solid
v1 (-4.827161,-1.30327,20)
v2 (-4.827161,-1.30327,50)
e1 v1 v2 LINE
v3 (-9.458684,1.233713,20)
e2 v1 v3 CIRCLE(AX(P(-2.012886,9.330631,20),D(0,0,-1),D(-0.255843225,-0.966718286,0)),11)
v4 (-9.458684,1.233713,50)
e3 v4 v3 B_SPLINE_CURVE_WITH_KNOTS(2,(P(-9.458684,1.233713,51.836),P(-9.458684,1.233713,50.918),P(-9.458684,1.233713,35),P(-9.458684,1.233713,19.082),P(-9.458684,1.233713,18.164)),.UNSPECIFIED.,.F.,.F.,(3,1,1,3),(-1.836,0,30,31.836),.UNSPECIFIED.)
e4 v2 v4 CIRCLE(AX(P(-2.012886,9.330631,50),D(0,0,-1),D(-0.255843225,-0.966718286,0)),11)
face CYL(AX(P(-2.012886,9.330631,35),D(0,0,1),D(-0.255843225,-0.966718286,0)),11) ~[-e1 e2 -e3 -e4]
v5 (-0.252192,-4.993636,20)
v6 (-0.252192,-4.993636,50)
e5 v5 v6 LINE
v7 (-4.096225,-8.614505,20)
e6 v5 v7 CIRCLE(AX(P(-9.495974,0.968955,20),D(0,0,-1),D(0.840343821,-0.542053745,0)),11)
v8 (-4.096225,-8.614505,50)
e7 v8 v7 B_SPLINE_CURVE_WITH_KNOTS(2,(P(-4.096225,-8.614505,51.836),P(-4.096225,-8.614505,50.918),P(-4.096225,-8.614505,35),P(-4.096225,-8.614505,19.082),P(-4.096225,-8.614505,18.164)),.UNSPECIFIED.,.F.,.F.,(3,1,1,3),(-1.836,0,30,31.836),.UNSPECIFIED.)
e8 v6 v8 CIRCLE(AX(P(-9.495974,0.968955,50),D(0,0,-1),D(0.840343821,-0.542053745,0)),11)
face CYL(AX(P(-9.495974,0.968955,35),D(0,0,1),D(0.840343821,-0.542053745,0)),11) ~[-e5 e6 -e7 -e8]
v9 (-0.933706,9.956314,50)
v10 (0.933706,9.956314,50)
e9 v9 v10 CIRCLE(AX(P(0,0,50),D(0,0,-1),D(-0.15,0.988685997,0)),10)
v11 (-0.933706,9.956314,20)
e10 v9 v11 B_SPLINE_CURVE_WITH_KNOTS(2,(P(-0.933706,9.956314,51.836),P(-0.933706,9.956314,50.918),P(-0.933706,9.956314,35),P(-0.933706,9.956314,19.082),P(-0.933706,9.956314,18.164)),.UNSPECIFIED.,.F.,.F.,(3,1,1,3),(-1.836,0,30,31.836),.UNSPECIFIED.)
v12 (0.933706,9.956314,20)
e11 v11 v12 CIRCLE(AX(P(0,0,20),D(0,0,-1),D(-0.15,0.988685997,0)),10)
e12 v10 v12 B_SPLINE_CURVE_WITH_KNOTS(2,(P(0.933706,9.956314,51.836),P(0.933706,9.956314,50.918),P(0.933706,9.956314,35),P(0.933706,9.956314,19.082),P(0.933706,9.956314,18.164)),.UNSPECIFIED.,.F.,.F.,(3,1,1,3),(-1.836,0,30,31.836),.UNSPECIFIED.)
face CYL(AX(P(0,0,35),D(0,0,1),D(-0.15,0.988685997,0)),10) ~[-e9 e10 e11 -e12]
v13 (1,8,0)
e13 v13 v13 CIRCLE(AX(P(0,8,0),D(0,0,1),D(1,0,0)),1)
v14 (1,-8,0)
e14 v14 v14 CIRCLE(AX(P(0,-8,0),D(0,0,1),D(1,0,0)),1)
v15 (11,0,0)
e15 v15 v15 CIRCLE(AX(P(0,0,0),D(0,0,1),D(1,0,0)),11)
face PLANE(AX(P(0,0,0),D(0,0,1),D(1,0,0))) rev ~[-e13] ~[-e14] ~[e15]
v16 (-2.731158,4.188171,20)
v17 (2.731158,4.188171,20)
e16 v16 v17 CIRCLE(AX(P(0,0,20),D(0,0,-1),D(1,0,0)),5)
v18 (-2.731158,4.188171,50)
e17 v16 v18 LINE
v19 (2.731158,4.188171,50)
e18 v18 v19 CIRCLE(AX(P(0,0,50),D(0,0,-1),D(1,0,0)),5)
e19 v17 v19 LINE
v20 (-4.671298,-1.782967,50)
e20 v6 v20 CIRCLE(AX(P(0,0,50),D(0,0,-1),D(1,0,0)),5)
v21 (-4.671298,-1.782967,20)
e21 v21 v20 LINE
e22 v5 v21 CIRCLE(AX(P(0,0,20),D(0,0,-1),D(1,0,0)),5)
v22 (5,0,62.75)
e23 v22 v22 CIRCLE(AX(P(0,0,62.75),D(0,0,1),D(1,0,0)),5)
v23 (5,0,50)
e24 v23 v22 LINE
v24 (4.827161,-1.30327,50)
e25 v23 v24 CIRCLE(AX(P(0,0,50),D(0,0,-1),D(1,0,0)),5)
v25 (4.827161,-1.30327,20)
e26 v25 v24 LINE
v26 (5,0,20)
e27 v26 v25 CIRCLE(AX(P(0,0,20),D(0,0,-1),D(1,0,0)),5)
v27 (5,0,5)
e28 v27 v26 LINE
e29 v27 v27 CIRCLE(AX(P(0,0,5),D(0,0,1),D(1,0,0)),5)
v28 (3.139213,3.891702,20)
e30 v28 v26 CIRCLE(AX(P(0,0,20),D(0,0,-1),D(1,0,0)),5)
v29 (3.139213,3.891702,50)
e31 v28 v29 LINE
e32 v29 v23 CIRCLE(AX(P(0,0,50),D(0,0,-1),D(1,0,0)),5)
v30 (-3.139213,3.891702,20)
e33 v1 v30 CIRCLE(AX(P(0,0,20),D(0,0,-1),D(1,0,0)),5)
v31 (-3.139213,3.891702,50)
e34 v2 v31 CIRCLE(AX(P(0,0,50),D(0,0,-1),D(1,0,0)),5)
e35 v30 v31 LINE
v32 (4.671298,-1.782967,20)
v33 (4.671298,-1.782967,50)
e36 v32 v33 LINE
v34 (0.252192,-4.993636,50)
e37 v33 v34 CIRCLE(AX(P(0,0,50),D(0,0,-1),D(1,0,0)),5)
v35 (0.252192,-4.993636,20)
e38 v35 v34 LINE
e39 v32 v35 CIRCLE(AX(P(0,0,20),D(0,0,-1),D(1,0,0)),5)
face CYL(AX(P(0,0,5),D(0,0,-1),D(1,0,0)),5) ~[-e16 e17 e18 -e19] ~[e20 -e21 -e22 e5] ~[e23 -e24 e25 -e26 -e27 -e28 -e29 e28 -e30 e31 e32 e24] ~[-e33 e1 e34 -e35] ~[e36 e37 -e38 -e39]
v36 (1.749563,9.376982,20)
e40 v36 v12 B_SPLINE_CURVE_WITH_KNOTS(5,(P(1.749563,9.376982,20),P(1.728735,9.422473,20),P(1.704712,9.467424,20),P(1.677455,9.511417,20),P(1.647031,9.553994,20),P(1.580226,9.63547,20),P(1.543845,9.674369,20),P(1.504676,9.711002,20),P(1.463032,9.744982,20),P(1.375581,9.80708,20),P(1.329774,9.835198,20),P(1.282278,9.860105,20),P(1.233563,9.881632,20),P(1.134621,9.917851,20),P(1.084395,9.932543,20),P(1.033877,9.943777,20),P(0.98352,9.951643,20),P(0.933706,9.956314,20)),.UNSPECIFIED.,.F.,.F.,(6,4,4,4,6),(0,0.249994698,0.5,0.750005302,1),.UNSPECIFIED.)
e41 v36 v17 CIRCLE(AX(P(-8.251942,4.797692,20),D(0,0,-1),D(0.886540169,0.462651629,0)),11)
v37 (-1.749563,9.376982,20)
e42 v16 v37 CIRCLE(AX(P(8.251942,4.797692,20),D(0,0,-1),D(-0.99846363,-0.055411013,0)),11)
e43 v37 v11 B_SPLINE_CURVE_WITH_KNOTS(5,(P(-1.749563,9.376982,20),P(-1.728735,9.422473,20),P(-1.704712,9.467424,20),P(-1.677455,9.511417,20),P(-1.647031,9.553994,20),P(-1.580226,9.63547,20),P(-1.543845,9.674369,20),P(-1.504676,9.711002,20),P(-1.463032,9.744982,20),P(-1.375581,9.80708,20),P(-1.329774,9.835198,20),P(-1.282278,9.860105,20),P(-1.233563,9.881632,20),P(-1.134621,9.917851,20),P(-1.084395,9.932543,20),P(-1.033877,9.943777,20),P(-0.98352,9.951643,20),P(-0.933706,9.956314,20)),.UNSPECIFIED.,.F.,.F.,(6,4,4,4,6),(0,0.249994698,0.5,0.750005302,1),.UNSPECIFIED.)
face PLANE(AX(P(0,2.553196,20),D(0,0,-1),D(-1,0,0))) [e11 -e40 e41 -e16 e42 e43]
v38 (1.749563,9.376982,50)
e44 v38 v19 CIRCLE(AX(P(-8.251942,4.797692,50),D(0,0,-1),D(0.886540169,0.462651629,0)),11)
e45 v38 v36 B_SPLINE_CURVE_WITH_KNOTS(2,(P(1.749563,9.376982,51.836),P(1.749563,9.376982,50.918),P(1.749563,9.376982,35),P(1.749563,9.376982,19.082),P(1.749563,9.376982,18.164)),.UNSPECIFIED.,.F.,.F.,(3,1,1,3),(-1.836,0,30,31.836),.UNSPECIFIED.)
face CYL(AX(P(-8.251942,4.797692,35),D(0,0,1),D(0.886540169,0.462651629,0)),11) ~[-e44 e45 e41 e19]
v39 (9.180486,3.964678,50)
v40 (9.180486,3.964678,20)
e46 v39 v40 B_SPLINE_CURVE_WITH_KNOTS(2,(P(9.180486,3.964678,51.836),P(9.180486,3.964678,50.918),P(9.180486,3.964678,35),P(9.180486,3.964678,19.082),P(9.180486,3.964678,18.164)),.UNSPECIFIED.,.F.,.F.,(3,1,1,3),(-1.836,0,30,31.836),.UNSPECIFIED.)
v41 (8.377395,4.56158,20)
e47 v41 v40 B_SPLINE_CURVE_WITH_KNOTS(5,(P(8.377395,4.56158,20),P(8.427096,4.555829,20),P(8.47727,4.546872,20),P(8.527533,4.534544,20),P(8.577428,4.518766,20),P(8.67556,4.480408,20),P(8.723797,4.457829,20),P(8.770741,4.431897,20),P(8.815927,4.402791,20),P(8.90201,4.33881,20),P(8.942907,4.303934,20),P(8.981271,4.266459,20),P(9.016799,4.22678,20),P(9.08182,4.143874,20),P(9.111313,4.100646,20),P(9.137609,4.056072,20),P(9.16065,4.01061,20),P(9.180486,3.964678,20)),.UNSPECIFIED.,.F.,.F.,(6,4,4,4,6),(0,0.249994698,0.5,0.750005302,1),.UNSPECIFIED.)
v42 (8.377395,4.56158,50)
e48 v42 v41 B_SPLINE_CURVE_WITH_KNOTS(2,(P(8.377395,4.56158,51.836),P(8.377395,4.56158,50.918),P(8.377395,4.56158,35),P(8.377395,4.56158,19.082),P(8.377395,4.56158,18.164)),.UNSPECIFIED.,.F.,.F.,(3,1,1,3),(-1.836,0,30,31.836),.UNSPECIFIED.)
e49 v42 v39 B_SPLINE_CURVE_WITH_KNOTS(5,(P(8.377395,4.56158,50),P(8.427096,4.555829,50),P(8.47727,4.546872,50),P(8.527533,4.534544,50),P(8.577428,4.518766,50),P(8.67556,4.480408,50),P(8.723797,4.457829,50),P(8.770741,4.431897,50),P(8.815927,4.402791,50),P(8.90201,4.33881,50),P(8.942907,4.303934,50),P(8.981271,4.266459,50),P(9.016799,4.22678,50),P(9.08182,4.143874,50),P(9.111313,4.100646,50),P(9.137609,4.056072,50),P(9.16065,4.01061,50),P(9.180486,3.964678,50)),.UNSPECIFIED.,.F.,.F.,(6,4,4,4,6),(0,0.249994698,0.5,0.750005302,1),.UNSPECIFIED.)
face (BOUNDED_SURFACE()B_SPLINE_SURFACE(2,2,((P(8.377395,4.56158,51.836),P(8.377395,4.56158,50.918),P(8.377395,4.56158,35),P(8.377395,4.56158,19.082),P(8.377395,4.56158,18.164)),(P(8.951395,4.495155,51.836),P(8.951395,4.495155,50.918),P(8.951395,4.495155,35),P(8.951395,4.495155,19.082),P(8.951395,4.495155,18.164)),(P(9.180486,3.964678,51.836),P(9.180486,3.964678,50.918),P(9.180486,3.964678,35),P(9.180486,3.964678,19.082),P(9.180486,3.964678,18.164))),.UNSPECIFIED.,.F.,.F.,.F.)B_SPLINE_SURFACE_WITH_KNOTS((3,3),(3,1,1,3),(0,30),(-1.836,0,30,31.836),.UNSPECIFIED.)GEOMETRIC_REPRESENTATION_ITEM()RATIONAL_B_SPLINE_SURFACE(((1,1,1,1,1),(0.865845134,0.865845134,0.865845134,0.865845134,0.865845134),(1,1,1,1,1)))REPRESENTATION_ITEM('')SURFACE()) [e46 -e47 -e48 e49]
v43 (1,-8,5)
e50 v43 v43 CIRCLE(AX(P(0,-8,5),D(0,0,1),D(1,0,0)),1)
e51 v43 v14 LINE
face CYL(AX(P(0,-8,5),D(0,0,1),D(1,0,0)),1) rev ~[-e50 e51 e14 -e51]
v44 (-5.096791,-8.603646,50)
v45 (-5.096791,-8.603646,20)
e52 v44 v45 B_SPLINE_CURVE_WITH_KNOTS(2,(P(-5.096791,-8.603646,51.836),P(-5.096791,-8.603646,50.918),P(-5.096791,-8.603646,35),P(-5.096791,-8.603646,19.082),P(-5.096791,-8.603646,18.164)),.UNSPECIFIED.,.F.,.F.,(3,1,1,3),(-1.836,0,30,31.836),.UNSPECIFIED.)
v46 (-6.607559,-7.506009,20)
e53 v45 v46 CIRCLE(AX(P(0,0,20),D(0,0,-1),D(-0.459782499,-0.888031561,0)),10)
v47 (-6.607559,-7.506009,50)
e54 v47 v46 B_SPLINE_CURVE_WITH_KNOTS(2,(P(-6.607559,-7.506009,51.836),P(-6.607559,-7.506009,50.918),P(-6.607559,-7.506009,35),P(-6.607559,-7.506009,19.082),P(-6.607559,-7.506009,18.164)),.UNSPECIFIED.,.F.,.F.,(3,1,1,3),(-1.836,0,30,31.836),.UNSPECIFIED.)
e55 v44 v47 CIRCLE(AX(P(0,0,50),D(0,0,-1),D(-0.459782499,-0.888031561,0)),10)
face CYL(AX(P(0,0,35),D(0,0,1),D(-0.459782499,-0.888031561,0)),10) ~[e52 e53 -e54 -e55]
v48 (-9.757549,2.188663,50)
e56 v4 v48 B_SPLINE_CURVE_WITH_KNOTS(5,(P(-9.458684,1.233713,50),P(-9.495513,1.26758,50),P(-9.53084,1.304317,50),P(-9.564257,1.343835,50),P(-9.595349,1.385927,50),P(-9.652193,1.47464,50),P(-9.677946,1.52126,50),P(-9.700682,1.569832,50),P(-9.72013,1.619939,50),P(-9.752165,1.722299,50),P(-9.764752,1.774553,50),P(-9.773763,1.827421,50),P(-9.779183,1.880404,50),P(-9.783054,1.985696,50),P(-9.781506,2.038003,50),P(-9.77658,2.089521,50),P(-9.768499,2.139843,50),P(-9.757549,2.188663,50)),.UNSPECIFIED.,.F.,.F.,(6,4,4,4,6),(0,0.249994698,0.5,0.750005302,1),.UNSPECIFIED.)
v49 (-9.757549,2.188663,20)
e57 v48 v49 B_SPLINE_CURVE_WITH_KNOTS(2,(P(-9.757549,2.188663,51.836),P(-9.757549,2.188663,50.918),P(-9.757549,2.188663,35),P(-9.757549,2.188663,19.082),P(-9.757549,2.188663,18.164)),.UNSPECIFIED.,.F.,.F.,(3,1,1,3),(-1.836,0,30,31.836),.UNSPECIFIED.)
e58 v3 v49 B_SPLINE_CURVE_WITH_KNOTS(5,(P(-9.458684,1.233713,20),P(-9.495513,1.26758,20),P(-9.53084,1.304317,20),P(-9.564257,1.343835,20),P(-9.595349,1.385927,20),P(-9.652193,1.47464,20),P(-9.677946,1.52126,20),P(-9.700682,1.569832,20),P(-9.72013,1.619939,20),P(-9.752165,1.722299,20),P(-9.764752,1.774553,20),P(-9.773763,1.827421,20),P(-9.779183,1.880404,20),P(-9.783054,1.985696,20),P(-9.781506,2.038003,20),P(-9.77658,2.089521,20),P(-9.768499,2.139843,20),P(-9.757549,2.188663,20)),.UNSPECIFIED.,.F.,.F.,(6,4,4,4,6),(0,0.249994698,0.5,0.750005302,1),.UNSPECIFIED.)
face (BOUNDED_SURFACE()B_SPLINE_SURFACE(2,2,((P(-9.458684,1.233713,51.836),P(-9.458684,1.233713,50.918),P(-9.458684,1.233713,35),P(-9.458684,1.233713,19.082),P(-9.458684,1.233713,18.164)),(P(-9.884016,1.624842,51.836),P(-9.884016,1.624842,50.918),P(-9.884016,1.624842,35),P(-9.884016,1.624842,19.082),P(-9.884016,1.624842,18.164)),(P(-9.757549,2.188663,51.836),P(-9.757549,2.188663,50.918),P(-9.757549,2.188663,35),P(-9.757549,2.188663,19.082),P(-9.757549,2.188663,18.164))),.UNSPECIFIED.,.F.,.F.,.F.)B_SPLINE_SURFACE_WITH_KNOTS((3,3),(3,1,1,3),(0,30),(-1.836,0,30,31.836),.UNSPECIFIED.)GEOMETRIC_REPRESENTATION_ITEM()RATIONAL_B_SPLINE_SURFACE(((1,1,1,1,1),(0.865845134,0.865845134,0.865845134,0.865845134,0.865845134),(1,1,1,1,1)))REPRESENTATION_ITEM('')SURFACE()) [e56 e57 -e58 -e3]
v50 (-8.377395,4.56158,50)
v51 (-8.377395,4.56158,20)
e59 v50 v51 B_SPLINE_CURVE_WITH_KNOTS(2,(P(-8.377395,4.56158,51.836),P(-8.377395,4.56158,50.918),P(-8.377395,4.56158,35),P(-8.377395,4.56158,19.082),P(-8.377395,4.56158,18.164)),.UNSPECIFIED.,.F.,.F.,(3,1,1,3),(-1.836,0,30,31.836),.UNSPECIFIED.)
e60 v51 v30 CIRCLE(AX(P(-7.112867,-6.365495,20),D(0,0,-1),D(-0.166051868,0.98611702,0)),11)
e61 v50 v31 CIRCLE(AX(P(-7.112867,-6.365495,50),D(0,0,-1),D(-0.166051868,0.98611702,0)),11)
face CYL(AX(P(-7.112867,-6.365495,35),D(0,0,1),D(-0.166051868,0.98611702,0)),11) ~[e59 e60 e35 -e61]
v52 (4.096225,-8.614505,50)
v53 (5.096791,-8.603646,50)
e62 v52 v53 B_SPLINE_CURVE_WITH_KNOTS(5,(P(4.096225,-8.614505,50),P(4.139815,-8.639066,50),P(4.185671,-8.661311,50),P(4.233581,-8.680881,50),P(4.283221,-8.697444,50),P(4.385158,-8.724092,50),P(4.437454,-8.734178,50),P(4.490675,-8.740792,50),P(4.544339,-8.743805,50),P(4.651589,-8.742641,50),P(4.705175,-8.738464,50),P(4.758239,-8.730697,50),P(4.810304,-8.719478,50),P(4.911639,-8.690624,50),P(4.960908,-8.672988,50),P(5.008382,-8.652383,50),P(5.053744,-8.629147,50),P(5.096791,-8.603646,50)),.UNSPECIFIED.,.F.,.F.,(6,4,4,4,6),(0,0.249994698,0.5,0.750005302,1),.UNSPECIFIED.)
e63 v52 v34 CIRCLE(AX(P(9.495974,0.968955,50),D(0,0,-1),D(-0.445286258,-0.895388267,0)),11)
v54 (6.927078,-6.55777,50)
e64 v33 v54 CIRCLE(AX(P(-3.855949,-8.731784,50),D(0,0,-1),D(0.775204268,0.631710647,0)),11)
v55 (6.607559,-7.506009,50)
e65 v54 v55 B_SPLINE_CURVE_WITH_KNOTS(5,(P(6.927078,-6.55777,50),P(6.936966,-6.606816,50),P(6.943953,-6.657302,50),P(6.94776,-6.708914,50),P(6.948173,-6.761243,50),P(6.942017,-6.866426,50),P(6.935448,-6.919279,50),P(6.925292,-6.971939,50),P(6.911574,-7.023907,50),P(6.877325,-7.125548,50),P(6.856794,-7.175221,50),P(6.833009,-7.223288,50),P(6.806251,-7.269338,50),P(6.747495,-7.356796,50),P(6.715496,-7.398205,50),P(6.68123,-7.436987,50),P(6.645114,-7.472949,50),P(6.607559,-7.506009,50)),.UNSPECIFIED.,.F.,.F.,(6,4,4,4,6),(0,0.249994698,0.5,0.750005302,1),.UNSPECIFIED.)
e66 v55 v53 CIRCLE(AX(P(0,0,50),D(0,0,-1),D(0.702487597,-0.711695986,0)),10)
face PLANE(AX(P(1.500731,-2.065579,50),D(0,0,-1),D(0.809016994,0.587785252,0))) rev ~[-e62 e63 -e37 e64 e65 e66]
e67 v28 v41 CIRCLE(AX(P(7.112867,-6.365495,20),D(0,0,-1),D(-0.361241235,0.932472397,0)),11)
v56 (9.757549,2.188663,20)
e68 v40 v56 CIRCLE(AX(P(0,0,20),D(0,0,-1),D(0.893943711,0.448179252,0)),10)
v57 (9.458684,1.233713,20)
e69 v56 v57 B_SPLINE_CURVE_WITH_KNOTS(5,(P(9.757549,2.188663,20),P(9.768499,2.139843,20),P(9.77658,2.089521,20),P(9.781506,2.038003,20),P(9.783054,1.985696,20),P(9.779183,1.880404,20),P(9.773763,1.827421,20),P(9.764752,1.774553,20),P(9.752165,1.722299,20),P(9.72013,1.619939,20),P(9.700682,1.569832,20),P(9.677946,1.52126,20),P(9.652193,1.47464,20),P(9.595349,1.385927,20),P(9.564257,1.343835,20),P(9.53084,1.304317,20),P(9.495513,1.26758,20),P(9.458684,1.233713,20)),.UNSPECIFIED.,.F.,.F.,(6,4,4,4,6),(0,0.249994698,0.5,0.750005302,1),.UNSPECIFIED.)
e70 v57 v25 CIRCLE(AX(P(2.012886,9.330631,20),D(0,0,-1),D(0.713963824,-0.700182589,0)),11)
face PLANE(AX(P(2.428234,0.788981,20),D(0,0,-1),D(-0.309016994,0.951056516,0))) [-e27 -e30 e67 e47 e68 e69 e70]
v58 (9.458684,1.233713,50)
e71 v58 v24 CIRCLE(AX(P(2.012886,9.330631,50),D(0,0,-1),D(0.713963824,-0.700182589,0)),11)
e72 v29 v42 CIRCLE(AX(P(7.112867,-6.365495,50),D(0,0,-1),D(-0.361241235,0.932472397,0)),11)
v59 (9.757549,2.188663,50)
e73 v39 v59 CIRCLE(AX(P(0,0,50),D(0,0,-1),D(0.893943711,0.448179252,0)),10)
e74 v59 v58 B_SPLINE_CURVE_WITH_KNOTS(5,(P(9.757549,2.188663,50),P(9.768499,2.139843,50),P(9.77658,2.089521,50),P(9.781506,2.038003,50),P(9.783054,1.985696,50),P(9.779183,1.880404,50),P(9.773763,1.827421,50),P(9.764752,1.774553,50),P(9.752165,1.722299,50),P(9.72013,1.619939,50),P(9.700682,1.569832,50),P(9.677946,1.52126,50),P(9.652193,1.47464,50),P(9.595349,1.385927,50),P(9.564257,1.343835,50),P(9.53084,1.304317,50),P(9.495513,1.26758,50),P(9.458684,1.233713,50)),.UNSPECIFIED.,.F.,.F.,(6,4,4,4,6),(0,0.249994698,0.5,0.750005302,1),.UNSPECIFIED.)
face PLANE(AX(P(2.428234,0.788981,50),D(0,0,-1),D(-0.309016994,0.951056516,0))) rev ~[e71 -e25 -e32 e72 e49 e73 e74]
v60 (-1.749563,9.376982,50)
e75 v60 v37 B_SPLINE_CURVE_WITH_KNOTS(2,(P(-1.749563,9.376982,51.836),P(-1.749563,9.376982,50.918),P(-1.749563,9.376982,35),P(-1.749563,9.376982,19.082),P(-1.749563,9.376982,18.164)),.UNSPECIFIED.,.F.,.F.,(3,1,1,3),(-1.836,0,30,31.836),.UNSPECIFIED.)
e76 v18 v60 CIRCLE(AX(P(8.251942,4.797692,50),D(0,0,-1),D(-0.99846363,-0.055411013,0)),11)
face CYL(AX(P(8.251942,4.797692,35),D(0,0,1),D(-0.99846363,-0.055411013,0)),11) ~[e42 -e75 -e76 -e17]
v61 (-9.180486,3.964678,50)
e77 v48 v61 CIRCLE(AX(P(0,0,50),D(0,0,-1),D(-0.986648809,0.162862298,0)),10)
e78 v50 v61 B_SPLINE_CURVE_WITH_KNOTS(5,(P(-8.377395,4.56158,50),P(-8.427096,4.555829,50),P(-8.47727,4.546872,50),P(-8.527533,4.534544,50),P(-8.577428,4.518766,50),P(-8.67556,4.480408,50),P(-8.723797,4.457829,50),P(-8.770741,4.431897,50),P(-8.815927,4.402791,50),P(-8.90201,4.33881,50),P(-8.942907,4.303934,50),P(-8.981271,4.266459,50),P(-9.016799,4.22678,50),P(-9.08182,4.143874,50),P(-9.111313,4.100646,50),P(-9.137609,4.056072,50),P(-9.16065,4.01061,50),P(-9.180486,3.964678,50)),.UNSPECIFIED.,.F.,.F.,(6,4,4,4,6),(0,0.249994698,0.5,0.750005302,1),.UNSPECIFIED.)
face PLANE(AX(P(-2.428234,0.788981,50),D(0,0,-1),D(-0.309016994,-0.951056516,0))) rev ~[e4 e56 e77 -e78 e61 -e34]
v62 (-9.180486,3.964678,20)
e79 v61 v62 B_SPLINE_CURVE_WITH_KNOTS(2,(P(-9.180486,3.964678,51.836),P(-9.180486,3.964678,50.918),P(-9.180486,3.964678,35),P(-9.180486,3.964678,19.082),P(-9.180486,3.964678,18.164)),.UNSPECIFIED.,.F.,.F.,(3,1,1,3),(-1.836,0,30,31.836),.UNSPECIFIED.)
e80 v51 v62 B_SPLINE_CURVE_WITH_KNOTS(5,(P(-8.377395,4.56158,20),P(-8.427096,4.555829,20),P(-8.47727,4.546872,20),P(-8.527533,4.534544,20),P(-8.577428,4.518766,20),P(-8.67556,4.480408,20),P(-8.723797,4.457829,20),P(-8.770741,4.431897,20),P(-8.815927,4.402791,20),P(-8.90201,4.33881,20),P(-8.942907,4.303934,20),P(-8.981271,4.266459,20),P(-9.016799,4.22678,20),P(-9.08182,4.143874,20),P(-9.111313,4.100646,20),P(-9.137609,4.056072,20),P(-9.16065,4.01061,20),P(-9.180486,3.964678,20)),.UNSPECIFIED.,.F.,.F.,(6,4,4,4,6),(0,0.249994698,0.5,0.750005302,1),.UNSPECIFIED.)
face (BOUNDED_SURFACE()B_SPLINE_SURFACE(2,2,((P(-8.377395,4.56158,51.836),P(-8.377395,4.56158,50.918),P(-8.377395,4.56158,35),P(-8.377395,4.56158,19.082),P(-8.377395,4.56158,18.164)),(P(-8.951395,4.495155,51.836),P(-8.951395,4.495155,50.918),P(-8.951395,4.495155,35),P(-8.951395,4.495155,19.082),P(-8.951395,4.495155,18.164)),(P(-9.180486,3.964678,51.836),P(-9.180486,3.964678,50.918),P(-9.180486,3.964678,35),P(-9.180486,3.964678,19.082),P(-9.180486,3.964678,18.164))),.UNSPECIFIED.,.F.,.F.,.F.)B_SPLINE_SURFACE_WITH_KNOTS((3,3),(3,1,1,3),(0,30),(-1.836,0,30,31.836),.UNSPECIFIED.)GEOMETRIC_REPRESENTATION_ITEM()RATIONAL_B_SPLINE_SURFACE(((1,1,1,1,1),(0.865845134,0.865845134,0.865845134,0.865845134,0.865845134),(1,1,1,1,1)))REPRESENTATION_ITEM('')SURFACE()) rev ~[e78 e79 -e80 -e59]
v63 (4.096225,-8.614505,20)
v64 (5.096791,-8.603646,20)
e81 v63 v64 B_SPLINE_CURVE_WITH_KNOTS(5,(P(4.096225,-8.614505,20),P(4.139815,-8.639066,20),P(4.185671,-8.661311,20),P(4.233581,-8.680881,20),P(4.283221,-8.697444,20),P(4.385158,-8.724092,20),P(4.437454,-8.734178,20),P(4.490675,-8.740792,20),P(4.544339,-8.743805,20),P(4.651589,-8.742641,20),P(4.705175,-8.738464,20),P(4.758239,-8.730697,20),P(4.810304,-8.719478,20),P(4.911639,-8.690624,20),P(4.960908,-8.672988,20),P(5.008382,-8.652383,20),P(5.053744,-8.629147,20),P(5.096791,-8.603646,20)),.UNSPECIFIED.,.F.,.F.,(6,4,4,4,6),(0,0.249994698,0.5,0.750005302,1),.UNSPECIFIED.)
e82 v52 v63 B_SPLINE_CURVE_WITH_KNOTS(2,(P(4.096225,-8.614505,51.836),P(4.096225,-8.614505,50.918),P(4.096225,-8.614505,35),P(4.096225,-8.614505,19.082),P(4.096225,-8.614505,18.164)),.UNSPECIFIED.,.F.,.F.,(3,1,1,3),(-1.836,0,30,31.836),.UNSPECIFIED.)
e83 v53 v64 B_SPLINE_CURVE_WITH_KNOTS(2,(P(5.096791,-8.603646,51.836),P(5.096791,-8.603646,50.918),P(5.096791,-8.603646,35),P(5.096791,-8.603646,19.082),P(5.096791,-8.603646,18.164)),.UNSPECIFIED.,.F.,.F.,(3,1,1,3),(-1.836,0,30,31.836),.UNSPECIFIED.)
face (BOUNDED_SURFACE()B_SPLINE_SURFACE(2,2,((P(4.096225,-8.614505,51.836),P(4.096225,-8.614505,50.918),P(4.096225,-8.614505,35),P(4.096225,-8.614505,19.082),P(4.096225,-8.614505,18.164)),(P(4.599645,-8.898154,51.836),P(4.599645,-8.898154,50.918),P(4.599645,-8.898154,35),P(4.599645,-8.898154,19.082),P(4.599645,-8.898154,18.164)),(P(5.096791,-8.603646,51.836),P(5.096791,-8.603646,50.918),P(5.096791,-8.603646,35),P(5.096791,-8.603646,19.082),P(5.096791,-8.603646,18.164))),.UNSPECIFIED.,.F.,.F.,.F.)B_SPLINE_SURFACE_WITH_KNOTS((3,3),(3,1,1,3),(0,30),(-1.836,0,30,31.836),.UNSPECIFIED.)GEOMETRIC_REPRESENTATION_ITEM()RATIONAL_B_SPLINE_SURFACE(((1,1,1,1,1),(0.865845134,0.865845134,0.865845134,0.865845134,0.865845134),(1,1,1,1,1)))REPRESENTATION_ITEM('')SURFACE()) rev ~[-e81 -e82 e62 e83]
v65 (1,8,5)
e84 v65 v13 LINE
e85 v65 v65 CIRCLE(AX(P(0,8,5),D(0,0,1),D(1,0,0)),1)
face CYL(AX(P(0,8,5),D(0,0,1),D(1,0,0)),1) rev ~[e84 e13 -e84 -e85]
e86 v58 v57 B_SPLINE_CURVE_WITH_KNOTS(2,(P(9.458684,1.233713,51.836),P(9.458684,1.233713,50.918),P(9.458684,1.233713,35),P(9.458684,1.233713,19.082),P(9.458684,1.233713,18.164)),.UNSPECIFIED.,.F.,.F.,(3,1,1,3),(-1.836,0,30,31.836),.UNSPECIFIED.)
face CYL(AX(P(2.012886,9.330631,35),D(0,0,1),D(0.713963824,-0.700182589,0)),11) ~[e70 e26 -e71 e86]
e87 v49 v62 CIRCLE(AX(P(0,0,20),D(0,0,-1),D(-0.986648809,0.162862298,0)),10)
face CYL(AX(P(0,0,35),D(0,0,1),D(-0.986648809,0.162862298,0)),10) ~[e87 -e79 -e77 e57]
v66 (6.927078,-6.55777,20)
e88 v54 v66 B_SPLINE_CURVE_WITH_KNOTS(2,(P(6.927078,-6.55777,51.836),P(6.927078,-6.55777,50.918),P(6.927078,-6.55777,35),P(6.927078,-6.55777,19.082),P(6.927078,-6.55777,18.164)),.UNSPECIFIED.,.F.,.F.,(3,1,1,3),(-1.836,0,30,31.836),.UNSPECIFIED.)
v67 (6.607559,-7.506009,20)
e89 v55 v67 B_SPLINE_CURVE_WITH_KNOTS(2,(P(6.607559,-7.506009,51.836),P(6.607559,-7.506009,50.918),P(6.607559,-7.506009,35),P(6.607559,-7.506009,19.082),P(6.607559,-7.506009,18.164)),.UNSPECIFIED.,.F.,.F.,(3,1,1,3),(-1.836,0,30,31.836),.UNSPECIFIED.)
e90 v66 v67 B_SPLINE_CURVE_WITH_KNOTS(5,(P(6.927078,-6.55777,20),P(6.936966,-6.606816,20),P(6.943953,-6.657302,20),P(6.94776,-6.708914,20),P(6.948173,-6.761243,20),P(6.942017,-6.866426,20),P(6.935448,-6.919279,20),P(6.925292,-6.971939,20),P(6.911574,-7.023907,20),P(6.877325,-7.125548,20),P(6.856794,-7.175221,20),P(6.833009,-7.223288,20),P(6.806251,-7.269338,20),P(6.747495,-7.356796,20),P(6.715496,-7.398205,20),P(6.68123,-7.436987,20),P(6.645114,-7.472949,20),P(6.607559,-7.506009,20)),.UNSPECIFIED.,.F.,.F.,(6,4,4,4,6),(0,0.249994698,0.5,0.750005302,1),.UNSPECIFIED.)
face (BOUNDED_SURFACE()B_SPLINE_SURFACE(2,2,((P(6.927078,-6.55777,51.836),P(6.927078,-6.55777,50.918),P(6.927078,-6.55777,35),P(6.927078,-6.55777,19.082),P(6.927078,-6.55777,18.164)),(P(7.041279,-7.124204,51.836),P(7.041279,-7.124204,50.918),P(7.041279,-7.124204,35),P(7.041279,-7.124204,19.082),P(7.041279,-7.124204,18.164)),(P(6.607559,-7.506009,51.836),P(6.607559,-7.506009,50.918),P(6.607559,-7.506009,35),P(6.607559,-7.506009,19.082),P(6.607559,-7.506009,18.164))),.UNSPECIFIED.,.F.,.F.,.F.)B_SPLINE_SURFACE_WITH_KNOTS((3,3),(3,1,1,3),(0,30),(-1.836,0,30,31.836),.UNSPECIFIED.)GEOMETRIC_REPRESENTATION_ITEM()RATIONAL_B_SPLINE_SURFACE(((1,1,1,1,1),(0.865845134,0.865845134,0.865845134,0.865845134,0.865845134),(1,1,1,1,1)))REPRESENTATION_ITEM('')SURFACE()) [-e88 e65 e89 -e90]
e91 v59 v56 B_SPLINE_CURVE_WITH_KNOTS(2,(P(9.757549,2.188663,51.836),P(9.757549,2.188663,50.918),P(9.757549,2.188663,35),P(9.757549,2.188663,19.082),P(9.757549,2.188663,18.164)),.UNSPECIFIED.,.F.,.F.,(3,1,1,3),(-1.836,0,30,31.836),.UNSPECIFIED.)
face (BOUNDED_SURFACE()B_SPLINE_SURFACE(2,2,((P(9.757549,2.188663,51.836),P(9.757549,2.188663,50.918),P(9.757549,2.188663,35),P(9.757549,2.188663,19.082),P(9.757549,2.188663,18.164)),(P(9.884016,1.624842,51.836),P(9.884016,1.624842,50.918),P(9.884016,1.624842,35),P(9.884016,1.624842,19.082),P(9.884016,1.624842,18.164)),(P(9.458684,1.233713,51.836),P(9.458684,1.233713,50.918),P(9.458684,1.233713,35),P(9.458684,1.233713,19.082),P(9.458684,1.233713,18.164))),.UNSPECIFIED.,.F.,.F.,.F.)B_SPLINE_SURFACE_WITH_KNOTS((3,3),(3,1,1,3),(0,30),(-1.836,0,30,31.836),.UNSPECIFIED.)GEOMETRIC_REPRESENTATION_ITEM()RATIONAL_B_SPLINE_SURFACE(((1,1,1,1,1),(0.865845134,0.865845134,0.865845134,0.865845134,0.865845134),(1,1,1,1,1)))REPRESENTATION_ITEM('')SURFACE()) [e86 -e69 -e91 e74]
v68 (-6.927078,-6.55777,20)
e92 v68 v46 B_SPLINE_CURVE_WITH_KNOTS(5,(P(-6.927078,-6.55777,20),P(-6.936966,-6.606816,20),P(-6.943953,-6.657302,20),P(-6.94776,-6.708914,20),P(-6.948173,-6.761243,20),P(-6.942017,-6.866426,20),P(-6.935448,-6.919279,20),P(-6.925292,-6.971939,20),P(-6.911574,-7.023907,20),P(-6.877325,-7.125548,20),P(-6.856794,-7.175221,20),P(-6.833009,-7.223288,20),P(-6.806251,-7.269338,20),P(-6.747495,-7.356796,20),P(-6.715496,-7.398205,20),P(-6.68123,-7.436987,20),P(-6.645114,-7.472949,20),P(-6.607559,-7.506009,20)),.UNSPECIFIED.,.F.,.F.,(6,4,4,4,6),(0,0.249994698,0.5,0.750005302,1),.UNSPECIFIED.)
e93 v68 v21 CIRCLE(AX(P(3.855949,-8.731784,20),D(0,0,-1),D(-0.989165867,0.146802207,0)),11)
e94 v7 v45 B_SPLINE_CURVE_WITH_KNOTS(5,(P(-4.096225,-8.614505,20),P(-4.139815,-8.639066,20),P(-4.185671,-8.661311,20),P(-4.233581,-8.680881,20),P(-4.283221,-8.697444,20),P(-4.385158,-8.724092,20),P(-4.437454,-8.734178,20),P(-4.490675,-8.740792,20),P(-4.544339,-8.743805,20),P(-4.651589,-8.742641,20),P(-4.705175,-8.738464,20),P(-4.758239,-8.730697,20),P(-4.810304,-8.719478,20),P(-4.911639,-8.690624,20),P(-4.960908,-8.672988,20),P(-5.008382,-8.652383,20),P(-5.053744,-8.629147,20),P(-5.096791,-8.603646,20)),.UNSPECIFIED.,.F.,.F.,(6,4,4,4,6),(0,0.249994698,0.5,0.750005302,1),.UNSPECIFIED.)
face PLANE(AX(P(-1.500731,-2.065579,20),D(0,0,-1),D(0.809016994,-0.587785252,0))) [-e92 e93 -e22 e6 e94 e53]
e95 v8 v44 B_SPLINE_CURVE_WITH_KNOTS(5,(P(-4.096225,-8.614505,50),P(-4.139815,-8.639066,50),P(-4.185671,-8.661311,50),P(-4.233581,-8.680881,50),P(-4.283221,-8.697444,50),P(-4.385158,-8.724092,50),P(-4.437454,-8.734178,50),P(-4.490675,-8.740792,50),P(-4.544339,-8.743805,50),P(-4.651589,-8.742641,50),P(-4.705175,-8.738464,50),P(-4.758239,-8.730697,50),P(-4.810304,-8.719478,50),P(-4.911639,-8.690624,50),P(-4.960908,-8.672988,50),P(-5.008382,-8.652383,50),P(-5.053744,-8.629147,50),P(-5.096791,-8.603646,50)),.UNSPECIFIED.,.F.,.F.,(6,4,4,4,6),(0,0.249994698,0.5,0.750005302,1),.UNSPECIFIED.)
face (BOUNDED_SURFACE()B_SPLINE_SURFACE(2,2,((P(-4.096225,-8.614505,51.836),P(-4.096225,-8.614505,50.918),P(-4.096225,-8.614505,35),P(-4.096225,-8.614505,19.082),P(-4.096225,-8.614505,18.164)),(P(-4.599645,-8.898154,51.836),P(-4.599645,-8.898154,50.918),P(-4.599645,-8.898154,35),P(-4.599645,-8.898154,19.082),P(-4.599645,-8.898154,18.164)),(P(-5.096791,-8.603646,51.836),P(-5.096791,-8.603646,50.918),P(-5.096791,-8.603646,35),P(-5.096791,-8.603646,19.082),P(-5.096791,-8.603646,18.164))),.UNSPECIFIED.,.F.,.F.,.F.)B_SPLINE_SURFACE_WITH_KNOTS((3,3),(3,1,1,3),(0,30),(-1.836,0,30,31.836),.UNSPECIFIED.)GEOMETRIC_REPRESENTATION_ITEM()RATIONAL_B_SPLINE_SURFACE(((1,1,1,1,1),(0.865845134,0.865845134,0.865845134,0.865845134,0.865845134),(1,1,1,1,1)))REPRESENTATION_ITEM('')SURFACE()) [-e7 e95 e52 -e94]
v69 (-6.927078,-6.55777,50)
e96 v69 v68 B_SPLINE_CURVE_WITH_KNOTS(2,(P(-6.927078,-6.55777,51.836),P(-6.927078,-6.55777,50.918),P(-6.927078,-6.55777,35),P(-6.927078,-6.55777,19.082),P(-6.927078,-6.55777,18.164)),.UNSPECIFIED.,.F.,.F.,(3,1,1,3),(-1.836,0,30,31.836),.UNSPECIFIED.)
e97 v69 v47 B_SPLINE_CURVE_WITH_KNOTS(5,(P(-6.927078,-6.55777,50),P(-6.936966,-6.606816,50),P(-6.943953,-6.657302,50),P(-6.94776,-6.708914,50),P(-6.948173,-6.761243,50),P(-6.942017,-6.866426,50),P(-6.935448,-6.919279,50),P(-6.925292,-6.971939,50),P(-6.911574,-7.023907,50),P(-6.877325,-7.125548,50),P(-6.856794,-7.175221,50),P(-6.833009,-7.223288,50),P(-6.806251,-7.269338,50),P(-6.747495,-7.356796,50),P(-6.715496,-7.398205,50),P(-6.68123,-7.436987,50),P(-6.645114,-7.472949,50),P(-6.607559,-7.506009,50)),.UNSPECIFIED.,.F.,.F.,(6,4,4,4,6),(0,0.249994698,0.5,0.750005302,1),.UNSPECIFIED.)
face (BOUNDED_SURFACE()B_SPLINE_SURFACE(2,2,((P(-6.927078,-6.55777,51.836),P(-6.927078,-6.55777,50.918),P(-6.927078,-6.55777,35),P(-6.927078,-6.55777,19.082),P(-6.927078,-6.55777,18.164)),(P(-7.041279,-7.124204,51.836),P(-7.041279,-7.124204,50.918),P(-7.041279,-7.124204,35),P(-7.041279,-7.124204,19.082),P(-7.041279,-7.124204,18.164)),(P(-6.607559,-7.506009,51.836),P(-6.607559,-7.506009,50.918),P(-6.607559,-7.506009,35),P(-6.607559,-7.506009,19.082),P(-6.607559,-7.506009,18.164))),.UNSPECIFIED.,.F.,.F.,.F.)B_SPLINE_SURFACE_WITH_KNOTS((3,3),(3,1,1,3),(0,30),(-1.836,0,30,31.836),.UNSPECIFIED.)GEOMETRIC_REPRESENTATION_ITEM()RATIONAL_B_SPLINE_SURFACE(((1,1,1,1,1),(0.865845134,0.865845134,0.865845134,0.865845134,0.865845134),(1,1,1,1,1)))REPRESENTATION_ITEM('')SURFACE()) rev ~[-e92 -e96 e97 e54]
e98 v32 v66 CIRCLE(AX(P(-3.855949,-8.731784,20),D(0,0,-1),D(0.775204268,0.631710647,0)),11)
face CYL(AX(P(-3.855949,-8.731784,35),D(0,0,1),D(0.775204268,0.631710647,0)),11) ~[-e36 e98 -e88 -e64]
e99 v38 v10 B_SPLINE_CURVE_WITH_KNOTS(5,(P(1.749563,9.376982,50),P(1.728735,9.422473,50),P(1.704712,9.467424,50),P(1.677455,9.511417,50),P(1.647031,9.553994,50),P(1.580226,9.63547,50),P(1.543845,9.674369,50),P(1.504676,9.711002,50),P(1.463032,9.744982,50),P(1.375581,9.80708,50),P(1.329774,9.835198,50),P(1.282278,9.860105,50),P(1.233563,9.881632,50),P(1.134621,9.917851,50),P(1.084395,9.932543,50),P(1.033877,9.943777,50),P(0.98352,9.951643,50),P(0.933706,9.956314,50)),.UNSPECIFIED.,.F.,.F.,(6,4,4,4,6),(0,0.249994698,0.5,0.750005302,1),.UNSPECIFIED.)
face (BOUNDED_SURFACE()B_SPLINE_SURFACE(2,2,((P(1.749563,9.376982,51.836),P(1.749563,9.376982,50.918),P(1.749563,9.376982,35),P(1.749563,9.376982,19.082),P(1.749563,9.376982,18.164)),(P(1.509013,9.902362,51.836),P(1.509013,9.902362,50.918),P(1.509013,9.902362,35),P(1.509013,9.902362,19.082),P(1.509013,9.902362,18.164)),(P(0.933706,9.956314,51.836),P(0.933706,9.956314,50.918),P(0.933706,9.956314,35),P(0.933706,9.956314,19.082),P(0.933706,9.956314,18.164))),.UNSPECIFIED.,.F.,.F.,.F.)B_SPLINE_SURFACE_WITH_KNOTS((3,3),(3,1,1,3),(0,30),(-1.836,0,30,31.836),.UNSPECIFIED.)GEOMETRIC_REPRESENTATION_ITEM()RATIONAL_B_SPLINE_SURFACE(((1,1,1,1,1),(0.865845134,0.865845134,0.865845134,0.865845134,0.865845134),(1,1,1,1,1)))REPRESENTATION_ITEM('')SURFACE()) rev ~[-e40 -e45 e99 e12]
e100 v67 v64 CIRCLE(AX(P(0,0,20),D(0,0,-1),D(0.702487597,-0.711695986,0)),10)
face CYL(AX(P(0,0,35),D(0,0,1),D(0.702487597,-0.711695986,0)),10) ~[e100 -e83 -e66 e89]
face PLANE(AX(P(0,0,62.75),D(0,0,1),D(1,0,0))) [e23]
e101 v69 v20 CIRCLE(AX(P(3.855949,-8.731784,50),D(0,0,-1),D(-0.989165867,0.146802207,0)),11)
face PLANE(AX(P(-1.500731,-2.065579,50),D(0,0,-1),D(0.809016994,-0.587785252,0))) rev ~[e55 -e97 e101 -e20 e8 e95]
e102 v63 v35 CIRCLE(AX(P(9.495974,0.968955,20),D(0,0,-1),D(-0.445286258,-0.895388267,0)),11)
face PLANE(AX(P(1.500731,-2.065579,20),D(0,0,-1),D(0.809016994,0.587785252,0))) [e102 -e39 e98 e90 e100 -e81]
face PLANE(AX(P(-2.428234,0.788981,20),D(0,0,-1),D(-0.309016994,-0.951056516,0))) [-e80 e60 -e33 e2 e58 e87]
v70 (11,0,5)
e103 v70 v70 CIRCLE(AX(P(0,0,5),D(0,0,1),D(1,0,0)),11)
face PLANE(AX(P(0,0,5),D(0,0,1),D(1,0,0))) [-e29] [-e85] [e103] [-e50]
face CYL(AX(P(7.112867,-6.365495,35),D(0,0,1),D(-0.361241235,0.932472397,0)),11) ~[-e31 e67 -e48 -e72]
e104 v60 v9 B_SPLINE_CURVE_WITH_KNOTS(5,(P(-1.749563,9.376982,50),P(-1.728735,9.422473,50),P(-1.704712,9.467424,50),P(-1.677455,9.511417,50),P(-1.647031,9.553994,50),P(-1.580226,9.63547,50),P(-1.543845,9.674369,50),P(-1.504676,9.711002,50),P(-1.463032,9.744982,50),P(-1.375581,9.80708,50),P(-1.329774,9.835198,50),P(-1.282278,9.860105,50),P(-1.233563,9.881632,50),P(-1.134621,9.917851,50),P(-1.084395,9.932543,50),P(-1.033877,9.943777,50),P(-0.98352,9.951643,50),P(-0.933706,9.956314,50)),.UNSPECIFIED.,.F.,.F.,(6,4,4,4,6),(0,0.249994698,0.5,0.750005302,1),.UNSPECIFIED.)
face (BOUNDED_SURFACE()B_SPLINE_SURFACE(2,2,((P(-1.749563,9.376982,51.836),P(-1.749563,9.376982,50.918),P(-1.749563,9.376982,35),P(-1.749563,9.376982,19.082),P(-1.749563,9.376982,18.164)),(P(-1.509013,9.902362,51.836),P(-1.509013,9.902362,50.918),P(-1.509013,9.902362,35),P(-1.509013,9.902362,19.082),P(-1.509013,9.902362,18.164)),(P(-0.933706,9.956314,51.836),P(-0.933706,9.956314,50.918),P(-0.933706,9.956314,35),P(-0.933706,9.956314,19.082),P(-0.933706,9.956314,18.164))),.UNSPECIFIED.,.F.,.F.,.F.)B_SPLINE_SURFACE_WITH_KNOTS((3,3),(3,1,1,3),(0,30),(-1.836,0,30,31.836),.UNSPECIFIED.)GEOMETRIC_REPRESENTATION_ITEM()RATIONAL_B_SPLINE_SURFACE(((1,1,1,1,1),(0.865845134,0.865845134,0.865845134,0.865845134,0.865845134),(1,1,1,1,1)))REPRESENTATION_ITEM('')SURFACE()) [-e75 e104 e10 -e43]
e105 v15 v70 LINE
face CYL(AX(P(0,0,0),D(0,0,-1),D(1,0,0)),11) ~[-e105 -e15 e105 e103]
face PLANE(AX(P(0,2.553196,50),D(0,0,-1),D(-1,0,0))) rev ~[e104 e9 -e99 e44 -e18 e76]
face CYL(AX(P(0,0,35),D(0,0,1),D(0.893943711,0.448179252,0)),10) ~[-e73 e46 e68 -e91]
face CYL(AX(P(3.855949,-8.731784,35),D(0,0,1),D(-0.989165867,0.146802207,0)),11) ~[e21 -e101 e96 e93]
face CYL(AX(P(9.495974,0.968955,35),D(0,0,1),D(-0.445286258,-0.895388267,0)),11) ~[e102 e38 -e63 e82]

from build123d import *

# Parameters (mm, degrees)
ESQUISSE1_R                        = 11
BOSS_EXTRU_1_DEPTH                 = 5
ESQUISSE2_R                        = 1
ENL_V_MAT_EXTRU_1_DEPTH            = 6
ESQUISSE3_R                        = 5
BOSS_EXTRU_2_DEPTH                 = 57.75
BOSS_EXTRU_3_DEPTH                 = 15
CONG_1_R                           = 1
R_P_TITION_CIRCULAIRE1_COUNT       = 5
CONG_1_OF_R_P_TITION_CIRCULAIRE1_R = 1


with BuildPart() as part:
    # Esquisse1 → Boss.-Extru.1 (new body)
    with BuildSketch(Plane.XY):
        Circle(ESQUISSE1_R)
    extrude(amount=BOSS_EXTRU_1_DEPTH)

    # Esquisse2 → Enlèv. mat.-Extru.1 (cut, through all)
    with BuildSketch(Plane.XY.offset(5)):
        with Locations((0, 8)):
            Circle(ESQUISSE2_R)
        with Locations((0, -8)):
            Circle(ESQUISSE2_R)
    extrude(amount=-ENL_V_MAT_EXTRU_1_DEPTH, mode=Mode.SUBTRACT)

    # Esquisse3 → Boss.-Extru.2 (add)
    with BuildSketch(Plane.XY.offset(5)):
        Circle(ESQUISSE3_R)
    extrude(amount=BOSS_EXTRU_2_DEPTH)

    # Esquisse4 → Boss.-Extru.3 (add, symmetric)
    with BuildSketch(Plane.XY.offset(35)):
        with BuildLine():
            ThreePointArc((-2.731158071, 4.188170912), (-2.5, 7.120566641), (-1.5, 9.886859967))
            ThreePointArc((-1.5, 9.886859967), (0, 10), (1.5, 9.886859967))
            ThreePointArc((1.5, 9.886859967), (2.5, 7.120566641), (2.731158071, 4.188170912))
            ThreePointArc((2.731158071, 4.188170912), (0, -5), (-2.731158071, 4.188170912))
        make_face()
    boss_extru_3 = extrude(amount=BOSS_EXTRU_3_DEPTH, both=True)

    # Congé1
    cong_1_edges = [part.edges().sort_by_distance(p)[0] for p in [
        (1.5, 9.886859967, 35),
        (-1.5, 9.886859967, 35),
    ]]
    fillet(cong_1_edges, radius=CONG_1_R)

    # Répétition circulaire1: Boss.-Extru.3 ×5 about axis
    r_p_tition_circulaire1_axis = Axis((0, 0, 0), (0, 0, 1))
    for i in range(1, R_P_TITION_CIRCULAIRE1_COUNT):
        add(boss_extru_3.rotate(r_p_tition_circulaire1_axis, i * 360 / R_P_TITION_CIRCULAIRE1_COUNT))

    # Congé1 of Répétition circulaire1
    cong_1_of_r_p_tition_circulaire1_edges = [part.edges().sort_by_distance(p)[0] for p in [
        (-8.939437105, 4.481792525, 35),
        (-9.866488089, 1.628622976, 35),
        (-7.024875971, -7.116959856, 35),
        (-4.597824988, -8.880315612, 35),
        (4.597824988, -8.880315612, 35),
        (7.024875971, -7.116959856, 35),
        (9.866488089, 1.628622976, 35),
        (8.939437105, 4.481792525, 35),
    ]]
    fillet(cong_1_of_r_p_tition_circulaire1_edges, radius=CONG_1_OF_R_P_TITION_CIRCULAIRE1_R)


solid = part.part
